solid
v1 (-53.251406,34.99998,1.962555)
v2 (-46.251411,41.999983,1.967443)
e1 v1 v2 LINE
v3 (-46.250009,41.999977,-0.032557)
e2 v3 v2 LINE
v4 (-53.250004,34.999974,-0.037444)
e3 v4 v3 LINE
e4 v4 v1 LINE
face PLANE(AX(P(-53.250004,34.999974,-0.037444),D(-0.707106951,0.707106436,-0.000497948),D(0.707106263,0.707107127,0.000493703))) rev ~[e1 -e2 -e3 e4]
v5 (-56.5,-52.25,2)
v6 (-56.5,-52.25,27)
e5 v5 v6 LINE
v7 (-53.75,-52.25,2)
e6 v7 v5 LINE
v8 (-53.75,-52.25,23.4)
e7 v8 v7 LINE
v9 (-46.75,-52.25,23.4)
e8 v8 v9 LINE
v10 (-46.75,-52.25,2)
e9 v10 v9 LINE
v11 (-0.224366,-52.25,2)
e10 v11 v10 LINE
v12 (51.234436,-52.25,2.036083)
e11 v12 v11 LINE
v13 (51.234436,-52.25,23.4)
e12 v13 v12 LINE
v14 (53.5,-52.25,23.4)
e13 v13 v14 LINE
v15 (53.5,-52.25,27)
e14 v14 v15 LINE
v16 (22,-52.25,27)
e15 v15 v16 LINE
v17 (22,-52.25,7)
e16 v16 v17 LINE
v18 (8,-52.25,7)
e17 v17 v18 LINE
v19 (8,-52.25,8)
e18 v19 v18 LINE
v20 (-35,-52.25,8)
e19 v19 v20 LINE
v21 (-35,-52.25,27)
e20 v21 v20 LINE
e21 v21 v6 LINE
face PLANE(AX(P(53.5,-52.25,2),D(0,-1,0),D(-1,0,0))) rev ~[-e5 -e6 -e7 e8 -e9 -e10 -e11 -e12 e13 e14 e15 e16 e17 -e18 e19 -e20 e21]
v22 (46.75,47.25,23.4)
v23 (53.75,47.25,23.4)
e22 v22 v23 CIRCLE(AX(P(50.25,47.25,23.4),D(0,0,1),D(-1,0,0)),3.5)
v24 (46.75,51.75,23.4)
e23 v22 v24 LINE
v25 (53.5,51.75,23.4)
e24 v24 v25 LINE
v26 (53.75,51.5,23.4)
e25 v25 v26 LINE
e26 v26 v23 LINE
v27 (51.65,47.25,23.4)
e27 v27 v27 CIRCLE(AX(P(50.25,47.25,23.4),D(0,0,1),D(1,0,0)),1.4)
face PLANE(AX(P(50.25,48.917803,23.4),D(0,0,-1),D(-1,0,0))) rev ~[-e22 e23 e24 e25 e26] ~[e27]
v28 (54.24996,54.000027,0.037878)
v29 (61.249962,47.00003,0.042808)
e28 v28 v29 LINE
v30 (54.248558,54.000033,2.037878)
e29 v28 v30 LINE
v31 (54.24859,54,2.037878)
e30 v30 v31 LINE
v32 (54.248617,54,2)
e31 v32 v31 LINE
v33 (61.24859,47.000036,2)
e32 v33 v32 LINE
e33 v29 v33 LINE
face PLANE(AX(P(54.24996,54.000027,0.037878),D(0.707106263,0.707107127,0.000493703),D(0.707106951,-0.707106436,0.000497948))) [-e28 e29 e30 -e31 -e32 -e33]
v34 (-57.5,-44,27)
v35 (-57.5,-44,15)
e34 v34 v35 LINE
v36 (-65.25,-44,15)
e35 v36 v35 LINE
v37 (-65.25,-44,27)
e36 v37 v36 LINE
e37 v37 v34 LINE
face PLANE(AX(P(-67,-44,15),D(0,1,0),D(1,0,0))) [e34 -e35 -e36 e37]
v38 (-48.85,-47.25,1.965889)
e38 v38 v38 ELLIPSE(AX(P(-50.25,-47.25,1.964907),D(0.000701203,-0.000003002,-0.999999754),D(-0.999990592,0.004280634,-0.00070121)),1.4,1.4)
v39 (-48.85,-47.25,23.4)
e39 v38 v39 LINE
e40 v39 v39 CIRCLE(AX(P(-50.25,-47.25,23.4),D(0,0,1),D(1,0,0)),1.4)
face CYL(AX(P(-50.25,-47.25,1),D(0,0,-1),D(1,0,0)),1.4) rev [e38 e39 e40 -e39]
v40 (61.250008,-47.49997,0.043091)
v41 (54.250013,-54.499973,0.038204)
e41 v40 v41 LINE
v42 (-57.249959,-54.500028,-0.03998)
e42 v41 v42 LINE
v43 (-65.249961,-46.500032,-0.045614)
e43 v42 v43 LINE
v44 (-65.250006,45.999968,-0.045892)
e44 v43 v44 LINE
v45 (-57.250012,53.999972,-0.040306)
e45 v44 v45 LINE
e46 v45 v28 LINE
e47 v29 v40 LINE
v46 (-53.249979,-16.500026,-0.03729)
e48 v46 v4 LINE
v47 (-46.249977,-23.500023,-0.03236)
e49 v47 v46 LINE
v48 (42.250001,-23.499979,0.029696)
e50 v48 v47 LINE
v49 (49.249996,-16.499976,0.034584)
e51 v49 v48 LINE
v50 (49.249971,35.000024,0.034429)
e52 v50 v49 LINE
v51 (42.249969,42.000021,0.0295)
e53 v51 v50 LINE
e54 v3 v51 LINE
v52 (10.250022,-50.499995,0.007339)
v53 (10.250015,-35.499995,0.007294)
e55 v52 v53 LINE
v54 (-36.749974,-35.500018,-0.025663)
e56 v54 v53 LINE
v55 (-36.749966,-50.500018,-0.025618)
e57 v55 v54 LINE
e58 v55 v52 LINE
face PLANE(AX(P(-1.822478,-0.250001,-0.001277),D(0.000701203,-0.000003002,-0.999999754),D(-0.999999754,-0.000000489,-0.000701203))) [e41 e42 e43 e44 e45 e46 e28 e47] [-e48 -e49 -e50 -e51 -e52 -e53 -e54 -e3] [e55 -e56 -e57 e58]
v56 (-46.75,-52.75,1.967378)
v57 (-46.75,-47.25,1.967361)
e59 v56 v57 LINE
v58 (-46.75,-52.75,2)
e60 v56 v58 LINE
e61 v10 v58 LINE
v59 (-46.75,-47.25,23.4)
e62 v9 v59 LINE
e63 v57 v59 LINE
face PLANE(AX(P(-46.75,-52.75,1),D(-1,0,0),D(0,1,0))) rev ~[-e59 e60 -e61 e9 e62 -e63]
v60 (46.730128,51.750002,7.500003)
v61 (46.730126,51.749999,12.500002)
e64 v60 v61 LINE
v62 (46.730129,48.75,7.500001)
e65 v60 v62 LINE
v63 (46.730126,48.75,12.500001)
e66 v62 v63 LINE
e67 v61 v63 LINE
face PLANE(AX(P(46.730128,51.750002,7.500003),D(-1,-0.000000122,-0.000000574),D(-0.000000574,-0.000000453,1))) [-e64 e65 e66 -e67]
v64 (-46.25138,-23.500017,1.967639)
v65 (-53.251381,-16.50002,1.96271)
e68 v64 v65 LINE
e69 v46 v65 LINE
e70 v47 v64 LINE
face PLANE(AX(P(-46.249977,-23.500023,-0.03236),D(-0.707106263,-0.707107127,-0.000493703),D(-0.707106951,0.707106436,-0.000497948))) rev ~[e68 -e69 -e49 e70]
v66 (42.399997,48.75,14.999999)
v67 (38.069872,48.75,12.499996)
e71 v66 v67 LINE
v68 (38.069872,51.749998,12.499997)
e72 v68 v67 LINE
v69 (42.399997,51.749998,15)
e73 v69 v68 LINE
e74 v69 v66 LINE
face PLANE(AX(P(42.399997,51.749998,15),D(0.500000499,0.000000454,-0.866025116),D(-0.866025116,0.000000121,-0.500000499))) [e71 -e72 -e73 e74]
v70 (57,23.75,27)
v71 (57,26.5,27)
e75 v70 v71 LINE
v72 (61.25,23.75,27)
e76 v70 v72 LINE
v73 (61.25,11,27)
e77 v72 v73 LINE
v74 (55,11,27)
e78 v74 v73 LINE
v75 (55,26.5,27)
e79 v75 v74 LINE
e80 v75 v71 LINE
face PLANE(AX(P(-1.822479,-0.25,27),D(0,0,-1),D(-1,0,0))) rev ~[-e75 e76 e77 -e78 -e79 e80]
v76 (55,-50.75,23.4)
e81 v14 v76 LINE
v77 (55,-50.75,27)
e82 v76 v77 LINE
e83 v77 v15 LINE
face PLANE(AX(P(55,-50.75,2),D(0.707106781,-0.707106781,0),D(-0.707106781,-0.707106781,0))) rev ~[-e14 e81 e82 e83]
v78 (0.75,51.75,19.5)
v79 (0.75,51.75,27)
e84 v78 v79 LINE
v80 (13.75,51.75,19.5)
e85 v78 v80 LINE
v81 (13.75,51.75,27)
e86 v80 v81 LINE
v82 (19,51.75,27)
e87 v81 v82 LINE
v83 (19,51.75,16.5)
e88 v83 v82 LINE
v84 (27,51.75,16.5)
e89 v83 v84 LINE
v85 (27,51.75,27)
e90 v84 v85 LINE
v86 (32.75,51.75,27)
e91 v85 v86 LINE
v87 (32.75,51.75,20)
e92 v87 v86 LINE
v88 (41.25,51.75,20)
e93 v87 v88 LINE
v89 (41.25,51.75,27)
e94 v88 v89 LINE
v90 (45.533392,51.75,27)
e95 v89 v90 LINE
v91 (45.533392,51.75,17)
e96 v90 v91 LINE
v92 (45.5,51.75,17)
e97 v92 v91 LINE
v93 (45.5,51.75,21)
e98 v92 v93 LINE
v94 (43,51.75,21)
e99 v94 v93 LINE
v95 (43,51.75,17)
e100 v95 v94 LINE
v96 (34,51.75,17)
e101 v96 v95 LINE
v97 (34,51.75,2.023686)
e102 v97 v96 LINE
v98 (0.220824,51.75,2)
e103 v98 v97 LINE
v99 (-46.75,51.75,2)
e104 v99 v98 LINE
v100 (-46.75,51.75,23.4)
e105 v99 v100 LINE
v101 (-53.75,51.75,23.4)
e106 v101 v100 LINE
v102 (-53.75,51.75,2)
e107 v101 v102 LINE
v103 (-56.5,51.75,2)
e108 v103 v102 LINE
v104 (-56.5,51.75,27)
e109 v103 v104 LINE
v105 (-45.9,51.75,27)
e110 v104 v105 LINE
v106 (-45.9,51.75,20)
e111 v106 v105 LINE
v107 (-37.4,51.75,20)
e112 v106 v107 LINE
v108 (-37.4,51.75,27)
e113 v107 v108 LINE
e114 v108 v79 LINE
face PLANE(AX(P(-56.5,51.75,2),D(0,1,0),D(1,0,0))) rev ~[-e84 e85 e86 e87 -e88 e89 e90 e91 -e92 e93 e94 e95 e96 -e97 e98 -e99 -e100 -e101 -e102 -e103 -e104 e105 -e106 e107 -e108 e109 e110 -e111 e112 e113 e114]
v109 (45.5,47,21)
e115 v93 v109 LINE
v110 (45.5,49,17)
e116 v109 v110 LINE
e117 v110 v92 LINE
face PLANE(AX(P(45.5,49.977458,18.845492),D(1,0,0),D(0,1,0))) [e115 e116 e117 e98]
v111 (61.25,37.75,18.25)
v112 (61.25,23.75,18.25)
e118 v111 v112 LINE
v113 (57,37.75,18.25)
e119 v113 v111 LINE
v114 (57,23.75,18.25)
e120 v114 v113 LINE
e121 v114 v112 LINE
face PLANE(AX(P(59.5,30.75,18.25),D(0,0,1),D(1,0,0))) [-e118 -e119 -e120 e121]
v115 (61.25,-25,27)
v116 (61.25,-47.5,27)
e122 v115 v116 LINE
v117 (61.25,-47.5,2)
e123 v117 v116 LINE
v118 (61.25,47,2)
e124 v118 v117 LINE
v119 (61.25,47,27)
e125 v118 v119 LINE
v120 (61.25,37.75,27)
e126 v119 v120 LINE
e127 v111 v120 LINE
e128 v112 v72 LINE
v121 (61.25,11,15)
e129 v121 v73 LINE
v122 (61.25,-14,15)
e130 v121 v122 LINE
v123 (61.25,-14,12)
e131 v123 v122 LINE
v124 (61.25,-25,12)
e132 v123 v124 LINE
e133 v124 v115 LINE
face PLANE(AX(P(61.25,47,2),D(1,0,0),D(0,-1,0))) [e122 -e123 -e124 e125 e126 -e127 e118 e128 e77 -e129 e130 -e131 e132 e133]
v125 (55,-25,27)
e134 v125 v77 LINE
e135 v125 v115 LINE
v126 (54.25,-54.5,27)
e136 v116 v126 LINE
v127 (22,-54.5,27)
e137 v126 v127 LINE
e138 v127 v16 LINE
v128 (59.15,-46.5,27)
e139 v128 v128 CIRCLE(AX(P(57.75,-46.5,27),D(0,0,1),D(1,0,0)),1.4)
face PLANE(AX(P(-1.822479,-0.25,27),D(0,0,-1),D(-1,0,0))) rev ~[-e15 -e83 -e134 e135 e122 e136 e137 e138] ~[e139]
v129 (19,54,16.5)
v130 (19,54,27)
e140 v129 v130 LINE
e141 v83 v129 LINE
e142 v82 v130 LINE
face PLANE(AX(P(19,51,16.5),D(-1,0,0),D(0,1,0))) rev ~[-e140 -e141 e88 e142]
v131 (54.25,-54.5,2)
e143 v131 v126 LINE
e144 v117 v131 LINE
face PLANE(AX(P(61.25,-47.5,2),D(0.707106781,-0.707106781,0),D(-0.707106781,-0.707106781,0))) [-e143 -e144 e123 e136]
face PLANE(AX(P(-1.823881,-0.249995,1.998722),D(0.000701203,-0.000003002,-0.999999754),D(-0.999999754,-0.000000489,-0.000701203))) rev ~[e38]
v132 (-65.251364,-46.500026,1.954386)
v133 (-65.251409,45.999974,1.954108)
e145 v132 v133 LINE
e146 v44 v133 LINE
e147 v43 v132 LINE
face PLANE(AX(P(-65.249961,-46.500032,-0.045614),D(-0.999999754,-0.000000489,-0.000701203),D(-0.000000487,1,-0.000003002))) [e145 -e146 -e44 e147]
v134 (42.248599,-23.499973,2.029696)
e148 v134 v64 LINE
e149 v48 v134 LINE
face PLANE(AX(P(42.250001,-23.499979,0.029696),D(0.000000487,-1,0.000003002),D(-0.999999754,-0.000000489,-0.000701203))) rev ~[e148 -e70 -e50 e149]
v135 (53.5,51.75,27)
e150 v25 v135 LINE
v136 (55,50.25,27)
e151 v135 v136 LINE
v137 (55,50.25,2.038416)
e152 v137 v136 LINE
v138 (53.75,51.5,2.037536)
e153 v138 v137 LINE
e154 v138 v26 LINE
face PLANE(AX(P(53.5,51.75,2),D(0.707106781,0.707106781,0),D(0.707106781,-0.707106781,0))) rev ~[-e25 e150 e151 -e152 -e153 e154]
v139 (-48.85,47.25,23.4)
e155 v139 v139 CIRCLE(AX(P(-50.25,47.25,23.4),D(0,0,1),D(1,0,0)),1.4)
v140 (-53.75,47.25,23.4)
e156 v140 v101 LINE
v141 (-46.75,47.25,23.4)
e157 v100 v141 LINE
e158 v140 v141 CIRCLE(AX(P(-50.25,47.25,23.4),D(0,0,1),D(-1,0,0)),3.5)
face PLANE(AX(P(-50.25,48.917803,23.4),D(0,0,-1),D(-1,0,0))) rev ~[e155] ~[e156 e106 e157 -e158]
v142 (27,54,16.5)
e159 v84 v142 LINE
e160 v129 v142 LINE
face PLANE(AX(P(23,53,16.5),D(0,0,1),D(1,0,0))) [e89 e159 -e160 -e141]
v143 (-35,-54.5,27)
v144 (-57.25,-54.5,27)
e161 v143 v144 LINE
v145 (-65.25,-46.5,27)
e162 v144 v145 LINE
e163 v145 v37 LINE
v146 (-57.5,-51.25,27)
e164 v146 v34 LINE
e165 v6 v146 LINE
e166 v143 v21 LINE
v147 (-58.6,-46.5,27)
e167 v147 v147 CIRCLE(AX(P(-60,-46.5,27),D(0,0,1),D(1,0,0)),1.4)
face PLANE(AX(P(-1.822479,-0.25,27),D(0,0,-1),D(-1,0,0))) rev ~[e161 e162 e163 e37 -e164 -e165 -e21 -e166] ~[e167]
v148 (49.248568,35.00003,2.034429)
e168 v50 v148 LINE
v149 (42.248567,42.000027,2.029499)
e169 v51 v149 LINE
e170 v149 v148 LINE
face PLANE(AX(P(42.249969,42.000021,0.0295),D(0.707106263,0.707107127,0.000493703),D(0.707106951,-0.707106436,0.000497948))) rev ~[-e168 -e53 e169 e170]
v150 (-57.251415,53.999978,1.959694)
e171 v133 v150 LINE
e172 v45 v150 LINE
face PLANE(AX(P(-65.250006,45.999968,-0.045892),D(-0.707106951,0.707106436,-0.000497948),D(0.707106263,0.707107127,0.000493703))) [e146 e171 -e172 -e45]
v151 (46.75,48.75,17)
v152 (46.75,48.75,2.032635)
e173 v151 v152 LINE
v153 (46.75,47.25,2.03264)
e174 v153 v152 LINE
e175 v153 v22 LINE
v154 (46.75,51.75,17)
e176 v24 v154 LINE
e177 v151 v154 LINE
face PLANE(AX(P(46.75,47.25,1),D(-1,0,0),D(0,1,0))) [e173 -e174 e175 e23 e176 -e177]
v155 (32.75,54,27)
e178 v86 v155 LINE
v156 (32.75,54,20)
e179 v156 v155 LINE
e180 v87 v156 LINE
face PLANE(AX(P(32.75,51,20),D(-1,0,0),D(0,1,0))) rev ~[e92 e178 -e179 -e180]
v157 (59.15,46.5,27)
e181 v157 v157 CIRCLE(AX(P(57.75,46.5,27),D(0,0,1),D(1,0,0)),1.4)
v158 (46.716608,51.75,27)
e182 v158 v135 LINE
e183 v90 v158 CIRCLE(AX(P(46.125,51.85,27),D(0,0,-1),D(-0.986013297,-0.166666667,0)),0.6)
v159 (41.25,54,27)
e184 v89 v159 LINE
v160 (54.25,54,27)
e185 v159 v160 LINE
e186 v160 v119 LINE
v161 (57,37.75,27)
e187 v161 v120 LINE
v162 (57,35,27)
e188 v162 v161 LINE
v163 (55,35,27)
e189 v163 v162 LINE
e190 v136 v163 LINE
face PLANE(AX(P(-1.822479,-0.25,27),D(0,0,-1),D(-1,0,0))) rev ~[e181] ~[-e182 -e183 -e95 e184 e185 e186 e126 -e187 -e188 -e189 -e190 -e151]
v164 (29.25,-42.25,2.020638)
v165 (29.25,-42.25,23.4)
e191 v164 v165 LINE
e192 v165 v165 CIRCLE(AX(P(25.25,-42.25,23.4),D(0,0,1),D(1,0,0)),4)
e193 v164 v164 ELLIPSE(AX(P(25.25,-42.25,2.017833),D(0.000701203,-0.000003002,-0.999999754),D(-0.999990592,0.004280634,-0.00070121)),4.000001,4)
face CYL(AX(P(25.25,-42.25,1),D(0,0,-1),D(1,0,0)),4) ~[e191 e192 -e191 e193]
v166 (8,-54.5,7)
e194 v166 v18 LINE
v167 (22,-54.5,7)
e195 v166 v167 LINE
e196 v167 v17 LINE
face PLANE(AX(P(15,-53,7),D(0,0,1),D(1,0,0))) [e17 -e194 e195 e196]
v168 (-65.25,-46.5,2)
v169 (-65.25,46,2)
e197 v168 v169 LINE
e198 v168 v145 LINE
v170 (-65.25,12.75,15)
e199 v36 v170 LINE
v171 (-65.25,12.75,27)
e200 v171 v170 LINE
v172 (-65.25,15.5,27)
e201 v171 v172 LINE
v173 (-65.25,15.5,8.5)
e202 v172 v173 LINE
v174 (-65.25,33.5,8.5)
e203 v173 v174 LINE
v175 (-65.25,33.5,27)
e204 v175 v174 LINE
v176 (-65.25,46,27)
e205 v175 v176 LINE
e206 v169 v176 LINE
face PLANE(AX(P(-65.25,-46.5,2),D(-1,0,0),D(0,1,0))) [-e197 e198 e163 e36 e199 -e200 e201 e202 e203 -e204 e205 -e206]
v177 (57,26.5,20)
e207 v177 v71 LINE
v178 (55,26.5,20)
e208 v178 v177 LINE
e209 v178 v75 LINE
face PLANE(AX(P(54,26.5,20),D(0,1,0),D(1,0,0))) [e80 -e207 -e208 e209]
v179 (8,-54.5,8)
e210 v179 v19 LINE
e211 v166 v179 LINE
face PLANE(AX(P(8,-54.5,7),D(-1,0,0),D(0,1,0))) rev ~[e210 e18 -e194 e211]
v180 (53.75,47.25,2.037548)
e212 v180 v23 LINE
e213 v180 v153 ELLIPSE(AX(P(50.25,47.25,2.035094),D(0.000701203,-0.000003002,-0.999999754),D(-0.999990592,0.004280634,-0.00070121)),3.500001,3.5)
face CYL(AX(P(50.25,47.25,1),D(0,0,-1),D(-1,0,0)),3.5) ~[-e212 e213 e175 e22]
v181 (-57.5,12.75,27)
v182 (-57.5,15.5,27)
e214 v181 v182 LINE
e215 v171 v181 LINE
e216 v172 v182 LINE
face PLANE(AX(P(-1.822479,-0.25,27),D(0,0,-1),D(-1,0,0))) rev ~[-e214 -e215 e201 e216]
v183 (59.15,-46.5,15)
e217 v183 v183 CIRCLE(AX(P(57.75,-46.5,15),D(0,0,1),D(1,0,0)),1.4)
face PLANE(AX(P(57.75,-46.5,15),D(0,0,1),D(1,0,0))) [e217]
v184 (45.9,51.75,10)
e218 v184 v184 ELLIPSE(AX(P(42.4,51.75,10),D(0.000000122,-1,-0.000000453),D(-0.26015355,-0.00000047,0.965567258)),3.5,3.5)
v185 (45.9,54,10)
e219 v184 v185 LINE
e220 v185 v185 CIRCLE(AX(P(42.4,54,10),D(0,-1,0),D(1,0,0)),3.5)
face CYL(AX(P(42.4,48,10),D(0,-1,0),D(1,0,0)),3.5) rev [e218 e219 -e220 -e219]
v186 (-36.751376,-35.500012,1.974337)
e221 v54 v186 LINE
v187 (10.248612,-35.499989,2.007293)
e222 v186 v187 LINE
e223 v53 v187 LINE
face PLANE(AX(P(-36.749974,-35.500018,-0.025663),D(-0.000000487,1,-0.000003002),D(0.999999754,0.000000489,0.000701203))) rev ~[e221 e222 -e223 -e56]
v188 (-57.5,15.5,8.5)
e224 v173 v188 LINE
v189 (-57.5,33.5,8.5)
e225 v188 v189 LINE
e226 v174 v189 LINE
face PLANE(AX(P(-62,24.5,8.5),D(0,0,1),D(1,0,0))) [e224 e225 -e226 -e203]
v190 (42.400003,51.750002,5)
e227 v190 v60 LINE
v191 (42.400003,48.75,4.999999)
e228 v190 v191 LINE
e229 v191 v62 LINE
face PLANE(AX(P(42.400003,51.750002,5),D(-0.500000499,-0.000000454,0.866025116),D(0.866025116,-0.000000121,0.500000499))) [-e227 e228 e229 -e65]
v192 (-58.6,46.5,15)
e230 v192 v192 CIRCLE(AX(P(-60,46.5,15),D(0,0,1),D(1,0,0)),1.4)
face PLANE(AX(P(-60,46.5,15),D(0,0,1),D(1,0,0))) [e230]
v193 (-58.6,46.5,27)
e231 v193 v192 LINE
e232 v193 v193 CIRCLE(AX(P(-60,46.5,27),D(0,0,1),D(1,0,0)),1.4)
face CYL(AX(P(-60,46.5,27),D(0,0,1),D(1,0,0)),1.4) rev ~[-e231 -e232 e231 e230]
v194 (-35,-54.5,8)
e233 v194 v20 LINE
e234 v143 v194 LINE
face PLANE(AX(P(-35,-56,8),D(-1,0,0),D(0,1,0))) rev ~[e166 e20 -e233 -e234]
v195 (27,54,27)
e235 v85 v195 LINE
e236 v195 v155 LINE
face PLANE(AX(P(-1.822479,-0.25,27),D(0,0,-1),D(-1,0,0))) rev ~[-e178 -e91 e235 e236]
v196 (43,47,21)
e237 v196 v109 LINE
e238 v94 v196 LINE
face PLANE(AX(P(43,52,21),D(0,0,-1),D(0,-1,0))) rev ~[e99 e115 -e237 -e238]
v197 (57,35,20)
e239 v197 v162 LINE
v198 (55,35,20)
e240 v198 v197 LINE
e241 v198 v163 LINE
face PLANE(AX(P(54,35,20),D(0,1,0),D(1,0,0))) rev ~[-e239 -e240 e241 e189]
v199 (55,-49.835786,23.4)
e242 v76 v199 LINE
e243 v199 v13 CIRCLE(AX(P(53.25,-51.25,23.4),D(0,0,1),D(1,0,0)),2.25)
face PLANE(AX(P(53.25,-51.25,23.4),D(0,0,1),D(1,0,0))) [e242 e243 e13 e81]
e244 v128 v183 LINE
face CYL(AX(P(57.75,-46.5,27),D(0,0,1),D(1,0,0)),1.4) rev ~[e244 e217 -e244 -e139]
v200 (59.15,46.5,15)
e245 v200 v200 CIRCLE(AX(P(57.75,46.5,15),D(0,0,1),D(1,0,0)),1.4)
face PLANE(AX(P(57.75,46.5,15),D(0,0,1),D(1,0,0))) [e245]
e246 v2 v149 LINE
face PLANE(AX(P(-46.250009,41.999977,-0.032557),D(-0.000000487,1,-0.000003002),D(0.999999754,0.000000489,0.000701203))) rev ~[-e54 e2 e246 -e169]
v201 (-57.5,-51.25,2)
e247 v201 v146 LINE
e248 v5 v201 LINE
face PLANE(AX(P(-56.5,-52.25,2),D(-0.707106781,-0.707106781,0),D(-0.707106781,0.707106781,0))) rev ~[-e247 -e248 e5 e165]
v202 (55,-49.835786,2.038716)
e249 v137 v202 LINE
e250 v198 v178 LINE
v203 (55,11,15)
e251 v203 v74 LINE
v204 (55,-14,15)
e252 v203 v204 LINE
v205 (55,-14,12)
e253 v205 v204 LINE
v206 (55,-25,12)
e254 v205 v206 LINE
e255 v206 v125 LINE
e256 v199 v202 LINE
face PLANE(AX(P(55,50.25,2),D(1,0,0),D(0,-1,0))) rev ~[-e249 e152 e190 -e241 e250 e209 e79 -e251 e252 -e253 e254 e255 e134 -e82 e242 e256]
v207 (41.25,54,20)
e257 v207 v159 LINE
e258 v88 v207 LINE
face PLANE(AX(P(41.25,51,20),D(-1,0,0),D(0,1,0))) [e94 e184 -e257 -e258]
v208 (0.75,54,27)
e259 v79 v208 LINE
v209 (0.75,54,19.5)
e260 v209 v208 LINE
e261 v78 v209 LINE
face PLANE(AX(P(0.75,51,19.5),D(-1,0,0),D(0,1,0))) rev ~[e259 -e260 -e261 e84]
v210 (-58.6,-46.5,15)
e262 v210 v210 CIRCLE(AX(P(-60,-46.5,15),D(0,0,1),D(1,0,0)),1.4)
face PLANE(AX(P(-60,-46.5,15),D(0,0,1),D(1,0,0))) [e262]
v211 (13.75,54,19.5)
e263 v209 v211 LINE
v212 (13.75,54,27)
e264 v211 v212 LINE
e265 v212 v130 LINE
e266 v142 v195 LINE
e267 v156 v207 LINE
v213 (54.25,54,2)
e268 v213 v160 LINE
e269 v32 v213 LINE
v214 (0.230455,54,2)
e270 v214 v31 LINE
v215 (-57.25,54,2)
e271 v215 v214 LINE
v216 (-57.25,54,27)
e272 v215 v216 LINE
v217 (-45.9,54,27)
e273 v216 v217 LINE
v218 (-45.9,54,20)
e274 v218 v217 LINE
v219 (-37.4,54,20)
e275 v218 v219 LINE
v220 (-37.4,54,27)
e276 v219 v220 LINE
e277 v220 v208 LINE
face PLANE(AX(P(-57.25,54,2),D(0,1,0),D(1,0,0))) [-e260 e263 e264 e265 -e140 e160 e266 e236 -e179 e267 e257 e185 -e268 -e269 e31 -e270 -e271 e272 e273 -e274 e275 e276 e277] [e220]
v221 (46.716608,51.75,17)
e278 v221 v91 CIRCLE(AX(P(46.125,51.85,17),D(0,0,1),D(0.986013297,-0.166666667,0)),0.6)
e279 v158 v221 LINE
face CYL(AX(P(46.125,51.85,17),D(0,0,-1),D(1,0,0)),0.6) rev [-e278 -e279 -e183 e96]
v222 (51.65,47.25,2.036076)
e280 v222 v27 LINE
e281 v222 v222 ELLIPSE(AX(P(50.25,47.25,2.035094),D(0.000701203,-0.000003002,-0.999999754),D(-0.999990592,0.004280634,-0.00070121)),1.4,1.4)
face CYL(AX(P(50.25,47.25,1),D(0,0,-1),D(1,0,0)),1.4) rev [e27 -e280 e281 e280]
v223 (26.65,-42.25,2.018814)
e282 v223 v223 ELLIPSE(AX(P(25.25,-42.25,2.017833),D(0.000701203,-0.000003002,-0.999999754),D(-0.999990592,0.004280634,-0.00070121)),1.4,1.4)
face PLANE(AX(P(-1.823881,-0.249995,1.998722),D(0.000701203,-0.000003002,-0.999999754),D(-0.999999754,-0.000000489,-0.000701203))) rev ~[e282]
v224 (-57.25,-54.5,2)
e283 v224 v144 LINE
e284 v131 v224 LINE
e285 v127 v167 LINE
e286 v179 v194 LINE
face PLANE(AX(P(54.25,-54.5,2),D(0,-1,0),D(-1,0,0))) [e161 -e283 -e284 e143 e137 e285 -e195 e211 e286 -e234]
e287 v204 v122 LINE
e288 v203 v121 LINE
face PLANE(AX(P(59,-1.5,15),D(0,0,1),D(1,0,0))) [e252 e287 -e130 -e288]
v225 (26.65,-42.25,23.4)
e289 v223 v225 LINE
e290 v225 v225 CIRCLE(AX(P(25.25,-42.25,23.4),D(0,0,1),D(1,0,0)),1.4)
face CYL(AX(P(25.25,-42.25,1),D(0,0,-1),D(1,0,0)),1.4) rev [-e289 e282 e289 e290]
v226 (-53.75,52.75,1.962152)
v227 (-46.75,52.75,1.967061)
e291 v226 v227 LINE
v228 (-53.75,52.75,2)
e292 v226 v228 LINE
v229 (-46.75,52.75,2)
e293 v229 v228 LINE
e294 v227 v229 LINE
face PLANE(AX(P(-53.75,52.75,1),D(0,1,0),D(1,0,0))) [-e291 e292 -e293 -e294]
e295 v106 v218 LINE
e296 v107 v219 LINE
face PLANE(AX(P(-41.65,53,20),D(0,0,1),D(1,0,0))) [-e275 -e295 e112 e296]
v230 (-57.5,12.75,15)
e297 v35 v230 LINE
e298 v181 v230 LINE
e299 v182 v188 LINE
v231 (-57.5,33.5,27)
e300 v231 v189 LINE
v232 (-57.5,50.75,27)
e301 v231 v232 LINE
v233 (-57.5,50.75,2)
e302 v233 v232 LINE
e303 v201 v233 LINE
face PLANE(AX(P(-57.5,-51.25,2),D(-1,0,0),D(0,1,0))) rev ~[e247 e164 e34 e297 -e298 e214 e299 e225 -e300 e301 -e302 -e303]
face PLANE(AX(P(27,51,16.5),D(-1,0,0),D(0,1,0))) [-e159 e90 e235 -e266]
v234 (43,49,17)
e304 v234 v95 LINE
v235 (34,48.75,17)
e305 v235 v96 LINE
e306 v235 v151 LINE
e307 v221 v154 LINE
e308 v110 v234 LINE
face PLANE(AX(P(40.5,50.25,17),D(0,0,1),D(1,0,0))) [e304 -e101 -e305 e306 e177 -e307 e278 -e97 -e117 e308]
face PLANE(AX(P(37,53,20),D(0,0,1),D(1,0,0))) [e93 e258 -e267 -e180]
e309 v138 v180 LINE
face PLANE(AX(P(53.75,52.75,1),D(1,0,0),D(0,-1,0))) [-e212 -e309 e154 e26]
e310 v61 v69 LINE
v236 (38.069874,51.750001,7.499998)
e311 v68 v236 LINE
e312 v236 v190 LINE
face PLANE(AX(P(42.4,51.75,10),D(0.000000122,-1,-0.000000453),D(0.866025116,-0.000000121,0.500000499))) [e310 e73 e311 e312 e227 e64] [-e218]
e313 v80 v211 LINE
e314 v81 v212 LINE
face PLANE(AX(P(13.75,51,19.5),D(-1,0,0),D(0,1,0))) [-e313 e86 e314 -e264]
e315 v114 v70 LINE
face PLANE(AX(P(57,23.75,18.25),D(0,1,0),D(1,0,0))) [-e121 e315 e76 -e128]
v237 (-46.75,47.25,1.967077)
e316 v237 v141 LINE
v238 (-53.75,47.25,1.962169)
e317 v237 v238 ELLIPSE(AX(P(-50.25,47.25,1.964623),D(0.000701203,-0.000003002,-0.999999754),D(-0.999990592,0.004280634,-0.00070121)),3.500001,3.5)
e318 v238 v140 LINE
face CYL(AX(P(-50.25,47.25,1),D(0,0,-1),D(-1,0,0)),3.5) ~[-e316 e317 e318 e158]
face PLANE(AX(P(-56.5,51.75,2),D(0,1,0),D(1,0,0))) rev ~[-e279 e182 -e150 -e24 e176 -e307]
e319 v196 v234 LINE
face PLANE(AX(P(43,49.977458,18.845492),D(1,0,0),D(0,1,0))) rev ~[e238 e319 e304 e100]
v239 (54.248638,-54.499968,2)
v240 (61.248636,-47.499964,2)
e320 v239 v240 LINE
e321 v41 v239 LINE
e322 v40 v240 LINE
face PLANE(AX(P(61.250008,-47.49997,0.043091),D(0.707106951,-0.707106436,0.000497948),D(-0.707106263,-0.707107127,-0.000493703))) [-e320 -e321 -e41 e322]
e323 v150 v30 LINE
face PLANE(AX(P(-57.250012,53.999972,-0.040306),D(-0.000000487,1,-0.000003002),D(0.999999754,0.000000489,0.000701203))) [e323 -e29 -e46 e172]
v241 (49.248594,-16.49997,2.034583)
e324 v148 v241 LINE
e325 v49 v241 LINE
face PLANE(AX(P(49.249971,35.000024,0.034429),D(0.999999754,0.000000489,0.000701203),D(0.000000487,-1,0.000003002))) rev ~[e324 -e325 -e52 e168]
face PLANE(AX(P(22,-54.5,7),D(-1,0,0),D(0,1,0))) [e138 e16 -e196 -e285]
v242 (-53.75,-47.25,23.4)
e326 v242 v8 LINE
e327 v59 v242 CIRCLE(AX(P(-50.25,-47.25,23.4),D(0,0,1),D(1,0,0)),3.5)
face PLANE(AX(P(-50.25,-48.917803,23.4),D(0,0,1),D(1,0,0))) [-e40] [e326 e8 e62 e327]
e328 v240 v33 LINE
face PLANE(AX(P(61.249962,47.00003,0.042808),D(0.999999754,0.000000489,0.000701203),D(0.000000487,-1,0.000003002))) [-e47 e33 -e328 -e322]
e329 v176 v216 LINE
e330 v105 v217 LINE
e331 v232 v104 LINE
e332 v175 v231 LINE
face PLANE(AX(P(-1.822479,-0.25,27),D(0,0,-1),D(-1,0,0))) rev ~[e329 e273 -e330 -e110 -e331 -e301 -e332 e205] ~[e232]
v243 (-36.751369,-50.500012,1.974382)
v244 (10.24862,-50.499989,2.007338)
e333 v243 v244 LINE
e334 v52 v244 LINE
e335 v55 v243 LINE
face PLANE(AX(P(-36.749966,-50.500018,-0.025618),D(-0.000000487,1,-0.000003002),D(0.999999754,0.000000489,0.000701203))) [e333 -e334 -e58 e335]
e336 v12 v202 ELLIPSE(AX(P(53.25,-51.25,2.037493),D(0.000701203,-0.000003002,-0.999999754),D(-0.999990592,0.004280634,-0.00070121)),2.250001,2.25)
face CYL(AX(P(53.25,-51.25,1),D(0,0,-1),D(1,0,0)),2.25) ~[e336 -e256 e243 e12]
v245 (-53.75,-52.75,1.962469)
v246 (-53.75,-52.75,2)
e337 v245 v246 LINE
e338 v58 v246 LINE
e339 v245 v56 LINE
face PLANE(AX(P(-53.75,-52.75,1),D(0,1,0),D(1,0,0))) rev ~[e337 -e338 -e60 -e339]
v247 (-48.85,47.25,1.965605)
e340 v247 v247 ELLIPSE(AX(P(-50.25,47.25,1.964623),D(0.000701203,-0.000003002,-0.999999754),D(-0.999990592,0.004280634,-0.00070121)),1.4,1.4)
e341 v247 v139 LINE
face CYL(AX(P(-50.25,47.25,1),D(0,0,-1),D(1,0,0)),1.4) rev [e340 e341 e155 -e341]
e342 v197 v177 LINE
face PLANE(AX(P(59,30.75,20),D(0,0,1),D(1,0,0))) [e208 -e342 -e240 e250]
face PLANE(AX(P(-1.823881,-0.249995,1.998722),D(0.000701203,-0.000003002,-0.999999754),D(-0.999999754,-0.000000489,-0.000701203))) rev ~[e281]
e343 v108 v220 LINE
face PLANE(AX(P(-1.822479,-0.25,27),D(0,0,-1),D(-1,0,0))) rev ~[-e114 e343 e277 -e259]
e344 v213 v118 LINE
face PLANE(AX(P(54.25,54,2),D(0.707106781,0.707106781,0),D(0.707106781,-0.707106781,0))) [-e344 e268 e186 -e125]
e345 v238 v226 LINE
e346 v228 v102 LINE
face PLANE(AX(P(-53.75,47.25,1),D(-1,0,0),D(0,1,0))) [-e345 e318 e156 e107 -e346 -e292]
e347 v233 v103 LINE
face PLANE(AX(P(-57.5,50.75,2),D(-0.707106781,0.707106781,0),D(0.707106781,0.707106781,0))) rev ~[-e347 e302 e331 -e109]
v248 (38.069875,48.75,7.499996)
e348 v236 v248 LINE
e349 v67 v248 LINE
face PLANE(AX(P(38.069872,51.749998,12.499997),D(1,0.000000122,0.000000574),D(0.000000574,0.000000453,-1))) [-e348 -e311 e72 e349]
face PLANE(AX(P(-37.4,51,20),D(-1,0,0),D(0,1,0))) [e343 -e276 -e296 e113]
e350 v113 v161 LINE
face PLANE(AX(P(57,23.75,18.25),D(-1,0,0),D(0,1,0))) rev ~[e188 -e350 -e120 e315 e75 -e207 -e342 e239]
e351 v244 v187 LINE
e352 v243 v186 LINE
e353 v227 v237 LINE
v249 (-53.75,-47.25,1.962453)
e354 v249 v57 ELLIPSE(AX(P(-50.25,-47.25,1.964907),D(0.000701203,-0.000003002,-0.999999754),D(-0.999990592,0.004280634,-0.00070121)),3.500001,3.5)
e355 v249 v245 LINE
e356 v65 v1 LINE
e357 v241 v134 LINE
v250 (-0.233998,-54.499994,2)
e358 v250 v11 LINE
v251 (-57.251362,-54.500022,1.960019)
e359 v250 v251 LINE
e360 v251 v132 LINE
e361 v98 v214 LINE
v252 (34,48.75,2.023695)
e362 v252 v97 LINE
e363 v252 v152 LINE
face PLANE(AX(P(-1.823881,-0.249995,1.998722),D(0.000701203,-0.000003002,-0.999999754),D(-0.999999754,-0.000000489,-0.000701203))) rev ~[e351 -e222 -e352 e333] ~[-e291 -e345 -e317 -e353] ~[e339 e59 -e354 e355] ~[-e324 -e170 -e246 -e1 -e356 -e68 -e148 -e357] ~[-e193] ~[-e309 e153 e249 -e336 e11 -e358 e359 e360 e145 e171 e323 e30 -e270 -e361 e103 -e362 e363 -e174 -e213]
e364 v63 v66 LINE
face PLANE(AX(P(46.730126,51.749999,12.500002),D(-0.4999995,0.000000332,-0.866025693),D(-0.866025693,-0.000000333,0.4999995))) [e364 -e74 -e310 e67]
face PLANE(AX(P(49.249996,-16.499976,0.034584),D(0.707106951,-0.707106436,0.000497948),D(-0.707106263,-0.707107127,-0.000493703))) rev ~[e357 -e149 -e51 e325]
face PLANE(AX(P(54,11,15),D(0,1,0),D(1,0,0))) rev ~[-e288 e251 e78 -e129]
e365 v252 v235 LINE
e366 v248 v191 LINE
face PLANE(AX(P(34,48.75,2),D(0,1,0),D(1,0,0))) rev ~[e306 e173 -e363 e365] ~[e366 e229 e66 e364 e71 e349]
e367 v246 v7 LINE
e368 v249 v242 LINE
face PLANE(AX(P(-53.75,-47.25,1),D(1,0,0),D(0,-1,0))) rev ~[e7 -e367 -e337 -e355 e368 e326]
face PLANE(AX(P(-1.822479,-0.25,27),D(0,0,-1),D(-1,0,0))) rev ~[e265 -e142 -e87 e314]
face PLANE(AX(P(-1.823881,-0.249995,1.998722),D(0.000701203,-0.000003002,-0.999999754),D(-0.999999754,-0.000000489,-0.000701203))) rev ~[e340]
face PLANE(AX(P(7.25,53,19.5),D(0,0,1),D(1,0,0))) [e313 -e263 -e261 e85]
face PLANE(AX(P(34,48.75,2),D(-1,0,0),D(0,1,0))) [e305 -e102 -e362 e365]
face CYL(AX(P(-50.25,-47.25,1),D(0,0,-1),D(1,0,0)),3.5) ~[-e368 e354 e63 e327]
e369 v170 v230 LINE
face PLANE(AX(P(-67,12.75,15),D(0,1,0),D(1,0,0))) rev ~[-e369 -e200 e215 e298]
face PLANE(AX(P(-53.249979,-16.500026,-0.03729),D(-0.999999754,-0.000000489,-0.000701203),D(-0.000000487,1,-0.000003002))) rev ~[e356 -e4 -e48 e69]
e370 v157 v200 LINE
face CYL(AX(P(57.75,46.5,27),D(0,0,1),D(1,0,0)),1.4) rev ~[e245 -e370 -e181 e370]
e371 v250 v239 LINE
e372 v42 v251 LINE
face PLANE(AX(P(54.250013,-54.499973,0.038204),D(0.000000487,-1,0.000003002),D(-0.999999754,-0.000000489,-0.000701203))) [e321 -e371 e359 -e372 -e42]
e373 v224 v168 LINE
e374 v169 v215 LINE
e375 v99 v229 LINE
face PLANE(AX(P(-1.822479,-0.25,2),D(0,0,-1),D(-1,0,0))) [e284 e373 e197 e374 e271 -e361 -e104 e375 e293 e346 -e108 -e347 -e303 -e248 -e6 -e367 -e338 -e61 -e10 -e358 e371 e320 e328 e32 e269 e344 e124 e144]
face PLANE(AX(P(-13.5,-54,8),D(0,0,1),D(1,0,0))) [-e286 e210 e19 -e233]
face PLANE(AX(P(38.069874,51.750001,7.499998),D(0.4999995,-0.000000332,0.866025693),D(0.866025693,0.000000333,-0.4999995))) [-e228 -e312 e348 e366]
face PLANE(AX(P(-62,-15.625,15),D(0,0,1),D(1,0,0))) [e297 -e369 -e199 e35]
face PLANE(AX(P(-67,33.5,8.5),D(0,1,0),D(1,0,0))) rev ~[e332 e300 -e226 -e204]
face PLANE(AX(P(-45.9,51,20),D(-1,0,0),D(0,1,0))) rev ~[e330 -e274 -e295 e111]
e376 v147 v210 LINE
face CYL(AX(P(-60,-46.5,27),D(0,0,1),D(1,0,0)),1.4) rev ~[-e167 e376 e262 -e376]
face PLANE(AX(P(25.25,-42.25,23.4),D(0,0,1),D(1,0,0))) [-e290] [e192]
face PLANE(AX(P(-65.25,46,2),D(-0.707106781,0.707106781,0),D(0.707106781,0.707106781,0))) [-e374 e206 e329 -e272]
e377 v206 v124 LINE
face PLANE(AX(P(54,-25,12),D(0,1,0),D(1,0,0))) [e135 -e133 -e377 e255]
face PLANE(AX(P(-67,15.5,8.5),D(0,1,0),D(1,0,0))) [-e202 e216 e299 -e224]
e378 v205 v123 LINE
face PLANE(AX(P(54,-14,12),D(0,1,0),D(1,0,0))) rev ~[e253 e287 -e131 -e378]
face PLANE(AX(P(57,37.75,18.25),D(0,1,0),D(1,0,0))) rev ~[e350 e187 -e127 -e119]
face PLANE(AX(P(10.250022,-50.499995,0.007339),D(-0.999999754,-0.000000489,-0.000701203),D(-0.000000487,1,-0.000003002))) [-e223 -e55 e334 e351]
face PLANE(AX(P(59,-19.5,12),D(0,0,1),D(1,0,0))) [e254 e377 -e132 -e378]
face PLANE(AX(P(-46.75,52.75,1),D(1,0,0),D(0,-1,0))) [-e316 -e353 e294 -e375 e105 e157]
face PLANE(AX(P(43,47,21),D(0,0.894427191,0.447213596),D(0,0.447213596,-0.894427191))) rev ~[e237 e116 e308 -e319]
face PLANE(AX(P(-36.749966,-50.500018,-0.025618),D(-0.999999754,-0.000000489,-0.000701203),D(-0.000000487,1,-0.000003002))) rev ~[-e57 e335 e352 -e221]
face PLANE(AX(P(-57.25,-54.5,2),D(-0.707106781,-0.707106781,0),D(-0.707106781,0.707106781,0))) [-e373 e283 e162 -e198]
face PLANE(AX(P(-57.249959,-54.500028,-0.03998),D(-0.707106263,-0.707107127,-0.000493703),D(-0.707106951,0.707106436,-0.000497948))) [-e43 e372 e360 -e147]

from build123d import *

# Parameters (mm, degrees)
BOX013_W                   = 14
BOX013_H                   = 3
BOX013_DEPTH               = 18
CYLINDER006_R              = 3.5
CYLINDER006_DEPTH          = 8
CYLINDER006_ROLL_ANGLE     = -90
CYLINDER_R                 = 0.6
CYLINDER_DEPTH             = 11
PRISM_DEPTH                = 10
PRISM_ROLL_ANGLE           = 90.00003
PRISM_PITCH_ANGLE          = -30.000033
PRISM_PLACEMENT_ANGLE      = -8e-06
BOX001_W                   = 10
BOX001_H                   = 18
BOX001_DEPTH               = 20
BOX002_W                   = 10
BOX002_H                   = 11
BOX002_DEPTH               = 15
BOX003_W                   = 10
BOX003_H                   = 25
BOX003_DEPTH               = 12
BOX004_W                   = 8.5
BOX004_H                   = 4
BOX004_DEPTH               = 7
BOX005_W                   = 8
BOX005_H                   = 4
BOX005_DEPTH               = 10.5
BOX006_W                   = 8.5
BOX006_H                   = 4
BOX006_DEPTH               = 7
BOX007_W                   = 13
BOX007_H                   = 4
BOX007_DEPTH               = 8
BOX008_W                   = 10
BOX008_H                   = 8.5
BOX008_DEPTH               = 8
BOX009_W                   = 5
BOX009_H                   = 14
BOX009_DEPTH               = 9
BOX010_W                   = 43
BOX010_H                   = 4
BOX010_DEPTH               = 19
SKETCH075_R                = 1.4
EXTRUDE_DEPTH              = 12
BOX011_W                   = 14
BOX011_H                   = 4
BOX011_DEPTH               = 12
BOX_W                      = 10
BOX_H                      = 56.75
BOX_DEPTH                  = 12
EXTRUDE073_DEPTH           = 25
EXTRUDE072_DEPTH           = 25
SKETCH072_R                = 4
SKETCH072_R_2              = 1.4
SKETCH072_R_3              = 2.25
EXTRUDE071_DEPTH           = 22.4
BOX012_W                   = 13
BOX012_H                   = 3
BOX012_DEPTH               = 15
EXTRUDE080_DEPTH           = 2.5
SKETCH071_W                = 47
SKETCH071_H                = 15
EXTRUDE070_DEPTH           = 2
EXTRUDE070_ROLL_ANGLE      = -0.000172
EXTRUDE070_PITCH_ANGLE     = -0.040176
EXTRUDE070_PLACEMENT_ANGLE = 2.8e-05


with BuildPart() as cube013:
    # Box013 → Box013 (new body)
    with BuildSketch(Plane(origin=(8, -54.5, 7), x_dir=(1, 0, 0), z_dir=(0, 0, 1))):
        with Locations((7, 1.5)):
            Rectangle(BOX013_W, BOX013_H)
    extrude(amount=BOX013_DEPTH)


with BuildPart() as cylinder006:
    # Cylinder006 → Cylinder006 (new body)
    with BuildSketch(Plane.XY):
        Circle(CYLINDER006_R)
    extrude(amount=CYLINDER006_DEPTH)


with BuildPart() as cylinder006_1:
    # Cylinder006 roll: moved
    add(cylinder006.part.rotate(Axis((0, 0, 0), (1, 0, 0)), CYLINDER006_ROLL_ANGLE))


with BuildPart() as cylinder006_2:
    # Cylinder006 placement: moved
    add(cylinder006_1.part.moved(Location((42.4, 48, 10))))


with BuildPart() as cylinder:
    # Cylinder → Cylinder (new body)
    with BuildSketch(Plane(origin=(46.125, 51.85, 17), x_dir=(1, 0, 0), z_dir=(0, 0, 1))):
        Circle(CYLINDER_R)
    extrude(amount=CYLINDER_DEPTH)


with BuildPart() as fusion032:
    # Prism → Prism (new body)
    with BuildSketch(Plane.XY):
        Polygon((5, 0), (2.5, 4.330127), (-2.5, 4.330127), (-5, 0), (-2.5, -4.330127), (2.5, -4.330127), align=None)
    extrude(amount=PRISM_DEPTH)


with BuildPart() as fusion032_1:
    # Prism roll: moved
    add(fusion032.part.rotate(Axis((0, 0, 0), (1, 0, 0)), PRISM_ROLL_ANGLE))


with BuildPart() as fusion032_2:
    # Prism pitch: moved
    add(fusion032_1.part.rotate(Axis((0, 0, 0), (0, 1, 0)), PRISM_PITCH_ANGLE))


with BuildPart() as fusion032_3:
    # Prism placement: moved
    add(fusion032_2.part.moved(Location((42.4, 51.75, 10))).rotate(Axis((42.4, 51.75, 10), (0, 0, 1)), PRISM_PLACEMENT_ANGLE))

    # Fusion032: union Cylinder006, Cylinder
    add(cylinder006_2.part)
    add(cylinder.part)


with BuildPart() as cube001:
    # Box001 → Box001 (new body)
    with BuildSketch(Plane(origin=(-67, 15.5, 8.5), x_dir=(1, 0, 0), z_dir=(0, 0, 1))):
        with Locations((5, 9)):
            Rectangle(BOX001_W, BOX001_H)
    extrude(amount=BOX001_DEPTH)


with BuildPart() as cube002:
    # Box002 → Box002 (new body)
    with BuildSketch(Plane(origin=(54, -25, 12), x_dir=(1, 0, 0), z_dir=(0, 0, 1))):
        with Locations((5, 5.5)):
            Rectangle(BOX002_W, BOX002_H)
    extrude(amount=BOX002_DEPTH)


with BuildPart() as cube003:
    # Box003 → Box003 (new body)
    with BuildSketch(Plane(origin=(54, -14, 15), x_dir=(1, 0, 0), z_dir=(0, 0, 1))):
        with Locations((5, 12.5)):
            Rectangle(BOX003_W, BOX003_H)
    extrude(amount=BOX003_DEPTH)


with BuildPart() as cube004:
    # Box004 → Box004 (new body)
    with BuildSketch(Plane(origin=(32.75, 51, 20), x_dir=(1, 0, 0), z_dir=(0, 0, 1))):
        with Locations((4.25, 2)):
            Rectangle(BOX004_W, BOX004_H)
    extrude(amount=BOX004_DEPTH)


with BuildPart() as cube005:
    # Box005 → Box005 (new body)
    with BuildSketch(Plane(origin=(19, 51, 16.5), x_dir=(1, 0, 0), z_dir=(0, 0, 1))):
        with Locations((4, 2)):
            Rectangle(BOX005_W, BOX005_H)
    extrude(amount=BOX005_DEPTH)


with BuildPart() as cube006:
    # Box006 → Box006 (new body)
    with BuildSketch(Plane(origin=(-45.9, 51, 20), x_dir=(1, 0, 0), z_dir=(0, 0, 1))):
        with Locations((4.25, 2)):
            Rectangle(BOX006_W, BOX006_H)
    extrude(amount=BOX006_DEPTH)


with BuildPart() as cube007:
    # Box007 → Box007 (new body)
    with BuildSketch(Plane(origin=(0.75, 51, 19.5), x_dir=(1, 0, 0), z_dir=(0, 0, 1))):
        with Locations((6.5, 2)):
            Rectangle(BOX007_W, BOX007_H)
    extrude(amount=BOX007_DEPTH)


with BuildPart() as cube008:
    # Box008 → Box008 (new body)
    with BuildSketch(Plane(origin=(54, 26.5, 20), x_dir=(1, 0, 0), z_dir=(0, 0, 1))):
        with Locations((5, 4.25)):
            Rectangle(BOX008_W, BOX008_H)
    extrude(amount=BOX008_DEPTH)


with BuildPart() as cube009:
    # Box009 → Box009 (new body)
    with BuildSketch(Plane(origin=(57, 23.75, 18.25), x_dir=(1, 0, 0), z_dir=(0, 0, 1))):
        with Locations((2.5, 7)):
            Rectangle(BOX009_W, BOX009_H)
    extrude(amount=BOX009_DEPTH)


with BuildPart() as cube010:
    # Box010 → Box010 (new body)
    with BuildSketch(Plane(origin=(-35, -56, 8), x_dir=(1, 0, 0), z_dir=(0, 0, 1))):
        with Locations((21.5, 2)):
            Rectangle(BOX010_W, BOX010_H)
    extrude(amount=BOX010_DEPTH)


with BuildPart() as extrude_body:
    # Sketch075 → Extrude (new body)
    with BuildSketch(Plane.XY.offset(27)):
        with Locations((-60, 46.5)):
            Circle(SKETCH075_R)
        with Locations((57.75, 46.5)):
            Circle(SKETCH075_R)
        with Locations((-60, -46.5)):
            Circle(SKETCH075_R)
        with Locations((57.75, -46.5)):
            Circle(SKETCH075_R)
    extrude(amount=-EXTRUDE_DEPTH)


with BuildPart() as cube011:
    # Box011 → Box011 (new body)
    with BuildSketch(Plane(origin=(8, -55, 15), x_dir=(1, 0, 0), z_dir=(0, 0, 1))):
        with Locations((7, 2)):
            Rectangle(BOX011_W, BOX011_H)
    extrude(amount=BOX011_DEPTH)


with BuildPart() as fusion:
    # Box → Box (new body)
    with BuildSketch(Plane(origin=(-67, -44, 15), x_dir=(1, 0, 0), z_dir=(0, 0, 1))):
        with Locations((5, 28.375)):
            Rectangle(BOX_W, BOX_H)
    extrude(amount=BOX_DEPTH)

    # Fusion: union Cube001, Cube002, Cube003, Cube004, Cube005, Cube006, Cube007, Cube008, Cube009, Cube010, Extrude body, Cube011
    add(cube001.part)
    add(cube002.part)
    add(cube003.part)
    add(cube004.part)
    add(cube005.part)
    add(cube006.part)
    add(cube007.part)
    add(cube008.part)
    add(cube009.part)
    add(cube010.part)
    add(extrude_body.part)
    add(cube011.part)


with BuildPart() as extrude073:
    # Sketch074 → Extrude073 (new body)
    with BuildSketch(Plane.XY):
        Polygon((53.5, -52.25), (-56.5, -52.25), (-57.5, -51.25), (-57.5, 50.75), (-56.5, 51.75), (53.5, 51.75), (55, 50.25), (55, -50.75), align=None)
    extrude(amount=EXTRUDE073_DEPTH)


with BuildPart() as cut001:
    # Sketch073 → Extrude072 (new body)
    with BuildSketch(Plane.XY):
        Polygon((54.25, -54.5), (-57.25, -54.5), (-65.25, -46.5), (-65.25, 46), (-57.25, 54), (54.25, 54), (61.25, 47), (61.25, -47.5), align=None)
    extrude(amount=EXTRUDE072_DEPTH)

    # Cut: cut Extrude073
    add(extrude073.part, mode=Mode.SUBTRACT)


with BuildPart() as cut001_1:
    # Cut placement: moved
    add(cut001.part.moved(Location((0, 0, 2))))

    # Cut001: cut Fusion
    add(fusion.part, mode=Mode.SUBTRACT)


with BuildPart() as extrude071:
    # Sketch072 → Extrude071 (new body)
    with BuildSketch(Plane.XY):
        with Locations((25.25, -42.25)):
            Circle(SKETCH072_R)
        with Locations((25.25, -42.25)):
            Circle(SKETCH072_R_2, mode=Mode.SUBTRACT)
        with Locations((53.25, -51.25)):
            Circle(SKETCH072_R_3)
        with BuildLine():
            Line((-53.75, 52.75), (-46.75, 52.75))
            Line((-46.75, 52.75), (-46.75, 47.25))
            ThreePointArc((-53.75, 47.25), (-50.25, 43.75), (-46.75, 47.25))
            Line((-53.75, 47.25), (-53.75, 52.75))
        make_face()
        with Locations((-50.25, 47.25)):
            Circle(SKETCH072_R_2, mode=Mode.SUBTRACT)
        with BuildLine():
            Line((46.75, 52.75), (53.75, 52.75))
            Line((53.75, 52.75), (53.75, 47.25))
            ThreePointArc((46.75, 47.25), (50.25, 43.75), (53.75, 47.25))
            Line((46.75, 47.25), (46.75, 52.75))
        make_face()
        with Locations((50.25, 47.25)):
            Circle(SKETCH072_R_2, mode=Mode.SUBTRACT)
        with BuildLine():
            Line((-53.75, -52.75), (-46.75, -52.75))
            Line((-46.75, -52.75), (-46.75, -47.25))
            ThreePointArc((-46.75, -47.25), (-50.25, -43.75), (-53.75, -47.25))
            Line((-53.75, -47.25), (-53.75, -52.75))
        make_face()
        with Locations((-50.25, -47.25)):
            Circle(SKETCH072_R_2, mode=Mode.SUBTRACT)
    extrude(amount=EXTRUDE071_DEPTH)


with BuildPart() as extrude071_1:
    # Extrude071 placement: moved
    add(extrude071.part.moved(Location((0, 0, 1))))


with BuildPart() as cube012:
    # Box012 → Box012 (new body)
    with BuildSketch(Plane(origin=(34, 48.75, 2), x_dir=(1, 0, 0), z_dir=(0, 0, 1))):
        with Locations((6.5, 1.5)):
            Rectangle(BOX012_W, BOX012_H)
    extrude(amount=BOX012_DEPTH)


with BuildPart() as extrude080:
    # Sketch091 → Extrude080 (new body)
    with BuildSketch(Plane.YZ):
        Polygon((0, 0), (0, 5), (-5, 5), (-2.5, 0), align=None)
    extrude(amount=EXTRUDE080_DEPTH)


with BuildPart() as extrude080_1:
    # Extrude080 placement: moved
    add(extrude080.part.moved(Location((43, 52, 16))))


with BuildPart() as cut005:
    # Sketch071 → Extrude070 (new body)
    with BuildSketch(Plane.XY):
        Polygon((54.25, -54.5), (-57.25, -54.5), (-65.25, -46.5), (-65.25, 46), (-57.25, 54), (54.25, 54), (61.25, 47), (61.25, -47.5), align=None)
        Polygon((-46.25, 42), (42.25, 42), (49.25, 35), (49.25, -16.5), (42.25, -23.5), (-46.25, -23.5), (-53.25, -16.5), (-53.25, 35), align=None, mode=Mode.SUBTRACT)
        with Locations((-13.25, -43)):
            Rectangle(SKETCH071_W, SKETCH071_H, mode=Mode.SUBTRACT)
    extrude(amount=EXTRUDE070_DEPTH)


with BuildPart() as cut005_1:
    # Extrude070 roll: moved
    add(cut005.part.rotate(Axis((0, 0, 0), (1, 0, 0)), EXTRUDE070_ROLL_ANGLE))


with BuildPart() as cut005_2:
    # Extrude070 pitch: moved
    add(cut005_1.part.rotate(Axis((0, 0, 0), (0, 1, 0)), EXTRUDE070_PITCH_ANGLE))


with BuildPart() as cut005_3:
    # Extrude070 placement: moved
    add(cut005_2.part.rotate(Axis((0, 0, 0), (0, 0, 1)), EXTRUDE070_PLACEMENT_ANGLE))

    # Fusion027: union Extrude071, Cube012, Extrude080
    add(extrude071_1.part)
    add(cube012.part)
    add(extrude080_1.part)

    # Fusion028: union Cut001
    add(cut001_1.part)

    # Cut003: cut Fusion032
    add(fusion032_3.part, mode=Mode.SUBTRACT)

    # Cut005: cut Cube013
    add(cube013.part, mode=Mode.SUBTRACT)


solid = cut005_3.part
